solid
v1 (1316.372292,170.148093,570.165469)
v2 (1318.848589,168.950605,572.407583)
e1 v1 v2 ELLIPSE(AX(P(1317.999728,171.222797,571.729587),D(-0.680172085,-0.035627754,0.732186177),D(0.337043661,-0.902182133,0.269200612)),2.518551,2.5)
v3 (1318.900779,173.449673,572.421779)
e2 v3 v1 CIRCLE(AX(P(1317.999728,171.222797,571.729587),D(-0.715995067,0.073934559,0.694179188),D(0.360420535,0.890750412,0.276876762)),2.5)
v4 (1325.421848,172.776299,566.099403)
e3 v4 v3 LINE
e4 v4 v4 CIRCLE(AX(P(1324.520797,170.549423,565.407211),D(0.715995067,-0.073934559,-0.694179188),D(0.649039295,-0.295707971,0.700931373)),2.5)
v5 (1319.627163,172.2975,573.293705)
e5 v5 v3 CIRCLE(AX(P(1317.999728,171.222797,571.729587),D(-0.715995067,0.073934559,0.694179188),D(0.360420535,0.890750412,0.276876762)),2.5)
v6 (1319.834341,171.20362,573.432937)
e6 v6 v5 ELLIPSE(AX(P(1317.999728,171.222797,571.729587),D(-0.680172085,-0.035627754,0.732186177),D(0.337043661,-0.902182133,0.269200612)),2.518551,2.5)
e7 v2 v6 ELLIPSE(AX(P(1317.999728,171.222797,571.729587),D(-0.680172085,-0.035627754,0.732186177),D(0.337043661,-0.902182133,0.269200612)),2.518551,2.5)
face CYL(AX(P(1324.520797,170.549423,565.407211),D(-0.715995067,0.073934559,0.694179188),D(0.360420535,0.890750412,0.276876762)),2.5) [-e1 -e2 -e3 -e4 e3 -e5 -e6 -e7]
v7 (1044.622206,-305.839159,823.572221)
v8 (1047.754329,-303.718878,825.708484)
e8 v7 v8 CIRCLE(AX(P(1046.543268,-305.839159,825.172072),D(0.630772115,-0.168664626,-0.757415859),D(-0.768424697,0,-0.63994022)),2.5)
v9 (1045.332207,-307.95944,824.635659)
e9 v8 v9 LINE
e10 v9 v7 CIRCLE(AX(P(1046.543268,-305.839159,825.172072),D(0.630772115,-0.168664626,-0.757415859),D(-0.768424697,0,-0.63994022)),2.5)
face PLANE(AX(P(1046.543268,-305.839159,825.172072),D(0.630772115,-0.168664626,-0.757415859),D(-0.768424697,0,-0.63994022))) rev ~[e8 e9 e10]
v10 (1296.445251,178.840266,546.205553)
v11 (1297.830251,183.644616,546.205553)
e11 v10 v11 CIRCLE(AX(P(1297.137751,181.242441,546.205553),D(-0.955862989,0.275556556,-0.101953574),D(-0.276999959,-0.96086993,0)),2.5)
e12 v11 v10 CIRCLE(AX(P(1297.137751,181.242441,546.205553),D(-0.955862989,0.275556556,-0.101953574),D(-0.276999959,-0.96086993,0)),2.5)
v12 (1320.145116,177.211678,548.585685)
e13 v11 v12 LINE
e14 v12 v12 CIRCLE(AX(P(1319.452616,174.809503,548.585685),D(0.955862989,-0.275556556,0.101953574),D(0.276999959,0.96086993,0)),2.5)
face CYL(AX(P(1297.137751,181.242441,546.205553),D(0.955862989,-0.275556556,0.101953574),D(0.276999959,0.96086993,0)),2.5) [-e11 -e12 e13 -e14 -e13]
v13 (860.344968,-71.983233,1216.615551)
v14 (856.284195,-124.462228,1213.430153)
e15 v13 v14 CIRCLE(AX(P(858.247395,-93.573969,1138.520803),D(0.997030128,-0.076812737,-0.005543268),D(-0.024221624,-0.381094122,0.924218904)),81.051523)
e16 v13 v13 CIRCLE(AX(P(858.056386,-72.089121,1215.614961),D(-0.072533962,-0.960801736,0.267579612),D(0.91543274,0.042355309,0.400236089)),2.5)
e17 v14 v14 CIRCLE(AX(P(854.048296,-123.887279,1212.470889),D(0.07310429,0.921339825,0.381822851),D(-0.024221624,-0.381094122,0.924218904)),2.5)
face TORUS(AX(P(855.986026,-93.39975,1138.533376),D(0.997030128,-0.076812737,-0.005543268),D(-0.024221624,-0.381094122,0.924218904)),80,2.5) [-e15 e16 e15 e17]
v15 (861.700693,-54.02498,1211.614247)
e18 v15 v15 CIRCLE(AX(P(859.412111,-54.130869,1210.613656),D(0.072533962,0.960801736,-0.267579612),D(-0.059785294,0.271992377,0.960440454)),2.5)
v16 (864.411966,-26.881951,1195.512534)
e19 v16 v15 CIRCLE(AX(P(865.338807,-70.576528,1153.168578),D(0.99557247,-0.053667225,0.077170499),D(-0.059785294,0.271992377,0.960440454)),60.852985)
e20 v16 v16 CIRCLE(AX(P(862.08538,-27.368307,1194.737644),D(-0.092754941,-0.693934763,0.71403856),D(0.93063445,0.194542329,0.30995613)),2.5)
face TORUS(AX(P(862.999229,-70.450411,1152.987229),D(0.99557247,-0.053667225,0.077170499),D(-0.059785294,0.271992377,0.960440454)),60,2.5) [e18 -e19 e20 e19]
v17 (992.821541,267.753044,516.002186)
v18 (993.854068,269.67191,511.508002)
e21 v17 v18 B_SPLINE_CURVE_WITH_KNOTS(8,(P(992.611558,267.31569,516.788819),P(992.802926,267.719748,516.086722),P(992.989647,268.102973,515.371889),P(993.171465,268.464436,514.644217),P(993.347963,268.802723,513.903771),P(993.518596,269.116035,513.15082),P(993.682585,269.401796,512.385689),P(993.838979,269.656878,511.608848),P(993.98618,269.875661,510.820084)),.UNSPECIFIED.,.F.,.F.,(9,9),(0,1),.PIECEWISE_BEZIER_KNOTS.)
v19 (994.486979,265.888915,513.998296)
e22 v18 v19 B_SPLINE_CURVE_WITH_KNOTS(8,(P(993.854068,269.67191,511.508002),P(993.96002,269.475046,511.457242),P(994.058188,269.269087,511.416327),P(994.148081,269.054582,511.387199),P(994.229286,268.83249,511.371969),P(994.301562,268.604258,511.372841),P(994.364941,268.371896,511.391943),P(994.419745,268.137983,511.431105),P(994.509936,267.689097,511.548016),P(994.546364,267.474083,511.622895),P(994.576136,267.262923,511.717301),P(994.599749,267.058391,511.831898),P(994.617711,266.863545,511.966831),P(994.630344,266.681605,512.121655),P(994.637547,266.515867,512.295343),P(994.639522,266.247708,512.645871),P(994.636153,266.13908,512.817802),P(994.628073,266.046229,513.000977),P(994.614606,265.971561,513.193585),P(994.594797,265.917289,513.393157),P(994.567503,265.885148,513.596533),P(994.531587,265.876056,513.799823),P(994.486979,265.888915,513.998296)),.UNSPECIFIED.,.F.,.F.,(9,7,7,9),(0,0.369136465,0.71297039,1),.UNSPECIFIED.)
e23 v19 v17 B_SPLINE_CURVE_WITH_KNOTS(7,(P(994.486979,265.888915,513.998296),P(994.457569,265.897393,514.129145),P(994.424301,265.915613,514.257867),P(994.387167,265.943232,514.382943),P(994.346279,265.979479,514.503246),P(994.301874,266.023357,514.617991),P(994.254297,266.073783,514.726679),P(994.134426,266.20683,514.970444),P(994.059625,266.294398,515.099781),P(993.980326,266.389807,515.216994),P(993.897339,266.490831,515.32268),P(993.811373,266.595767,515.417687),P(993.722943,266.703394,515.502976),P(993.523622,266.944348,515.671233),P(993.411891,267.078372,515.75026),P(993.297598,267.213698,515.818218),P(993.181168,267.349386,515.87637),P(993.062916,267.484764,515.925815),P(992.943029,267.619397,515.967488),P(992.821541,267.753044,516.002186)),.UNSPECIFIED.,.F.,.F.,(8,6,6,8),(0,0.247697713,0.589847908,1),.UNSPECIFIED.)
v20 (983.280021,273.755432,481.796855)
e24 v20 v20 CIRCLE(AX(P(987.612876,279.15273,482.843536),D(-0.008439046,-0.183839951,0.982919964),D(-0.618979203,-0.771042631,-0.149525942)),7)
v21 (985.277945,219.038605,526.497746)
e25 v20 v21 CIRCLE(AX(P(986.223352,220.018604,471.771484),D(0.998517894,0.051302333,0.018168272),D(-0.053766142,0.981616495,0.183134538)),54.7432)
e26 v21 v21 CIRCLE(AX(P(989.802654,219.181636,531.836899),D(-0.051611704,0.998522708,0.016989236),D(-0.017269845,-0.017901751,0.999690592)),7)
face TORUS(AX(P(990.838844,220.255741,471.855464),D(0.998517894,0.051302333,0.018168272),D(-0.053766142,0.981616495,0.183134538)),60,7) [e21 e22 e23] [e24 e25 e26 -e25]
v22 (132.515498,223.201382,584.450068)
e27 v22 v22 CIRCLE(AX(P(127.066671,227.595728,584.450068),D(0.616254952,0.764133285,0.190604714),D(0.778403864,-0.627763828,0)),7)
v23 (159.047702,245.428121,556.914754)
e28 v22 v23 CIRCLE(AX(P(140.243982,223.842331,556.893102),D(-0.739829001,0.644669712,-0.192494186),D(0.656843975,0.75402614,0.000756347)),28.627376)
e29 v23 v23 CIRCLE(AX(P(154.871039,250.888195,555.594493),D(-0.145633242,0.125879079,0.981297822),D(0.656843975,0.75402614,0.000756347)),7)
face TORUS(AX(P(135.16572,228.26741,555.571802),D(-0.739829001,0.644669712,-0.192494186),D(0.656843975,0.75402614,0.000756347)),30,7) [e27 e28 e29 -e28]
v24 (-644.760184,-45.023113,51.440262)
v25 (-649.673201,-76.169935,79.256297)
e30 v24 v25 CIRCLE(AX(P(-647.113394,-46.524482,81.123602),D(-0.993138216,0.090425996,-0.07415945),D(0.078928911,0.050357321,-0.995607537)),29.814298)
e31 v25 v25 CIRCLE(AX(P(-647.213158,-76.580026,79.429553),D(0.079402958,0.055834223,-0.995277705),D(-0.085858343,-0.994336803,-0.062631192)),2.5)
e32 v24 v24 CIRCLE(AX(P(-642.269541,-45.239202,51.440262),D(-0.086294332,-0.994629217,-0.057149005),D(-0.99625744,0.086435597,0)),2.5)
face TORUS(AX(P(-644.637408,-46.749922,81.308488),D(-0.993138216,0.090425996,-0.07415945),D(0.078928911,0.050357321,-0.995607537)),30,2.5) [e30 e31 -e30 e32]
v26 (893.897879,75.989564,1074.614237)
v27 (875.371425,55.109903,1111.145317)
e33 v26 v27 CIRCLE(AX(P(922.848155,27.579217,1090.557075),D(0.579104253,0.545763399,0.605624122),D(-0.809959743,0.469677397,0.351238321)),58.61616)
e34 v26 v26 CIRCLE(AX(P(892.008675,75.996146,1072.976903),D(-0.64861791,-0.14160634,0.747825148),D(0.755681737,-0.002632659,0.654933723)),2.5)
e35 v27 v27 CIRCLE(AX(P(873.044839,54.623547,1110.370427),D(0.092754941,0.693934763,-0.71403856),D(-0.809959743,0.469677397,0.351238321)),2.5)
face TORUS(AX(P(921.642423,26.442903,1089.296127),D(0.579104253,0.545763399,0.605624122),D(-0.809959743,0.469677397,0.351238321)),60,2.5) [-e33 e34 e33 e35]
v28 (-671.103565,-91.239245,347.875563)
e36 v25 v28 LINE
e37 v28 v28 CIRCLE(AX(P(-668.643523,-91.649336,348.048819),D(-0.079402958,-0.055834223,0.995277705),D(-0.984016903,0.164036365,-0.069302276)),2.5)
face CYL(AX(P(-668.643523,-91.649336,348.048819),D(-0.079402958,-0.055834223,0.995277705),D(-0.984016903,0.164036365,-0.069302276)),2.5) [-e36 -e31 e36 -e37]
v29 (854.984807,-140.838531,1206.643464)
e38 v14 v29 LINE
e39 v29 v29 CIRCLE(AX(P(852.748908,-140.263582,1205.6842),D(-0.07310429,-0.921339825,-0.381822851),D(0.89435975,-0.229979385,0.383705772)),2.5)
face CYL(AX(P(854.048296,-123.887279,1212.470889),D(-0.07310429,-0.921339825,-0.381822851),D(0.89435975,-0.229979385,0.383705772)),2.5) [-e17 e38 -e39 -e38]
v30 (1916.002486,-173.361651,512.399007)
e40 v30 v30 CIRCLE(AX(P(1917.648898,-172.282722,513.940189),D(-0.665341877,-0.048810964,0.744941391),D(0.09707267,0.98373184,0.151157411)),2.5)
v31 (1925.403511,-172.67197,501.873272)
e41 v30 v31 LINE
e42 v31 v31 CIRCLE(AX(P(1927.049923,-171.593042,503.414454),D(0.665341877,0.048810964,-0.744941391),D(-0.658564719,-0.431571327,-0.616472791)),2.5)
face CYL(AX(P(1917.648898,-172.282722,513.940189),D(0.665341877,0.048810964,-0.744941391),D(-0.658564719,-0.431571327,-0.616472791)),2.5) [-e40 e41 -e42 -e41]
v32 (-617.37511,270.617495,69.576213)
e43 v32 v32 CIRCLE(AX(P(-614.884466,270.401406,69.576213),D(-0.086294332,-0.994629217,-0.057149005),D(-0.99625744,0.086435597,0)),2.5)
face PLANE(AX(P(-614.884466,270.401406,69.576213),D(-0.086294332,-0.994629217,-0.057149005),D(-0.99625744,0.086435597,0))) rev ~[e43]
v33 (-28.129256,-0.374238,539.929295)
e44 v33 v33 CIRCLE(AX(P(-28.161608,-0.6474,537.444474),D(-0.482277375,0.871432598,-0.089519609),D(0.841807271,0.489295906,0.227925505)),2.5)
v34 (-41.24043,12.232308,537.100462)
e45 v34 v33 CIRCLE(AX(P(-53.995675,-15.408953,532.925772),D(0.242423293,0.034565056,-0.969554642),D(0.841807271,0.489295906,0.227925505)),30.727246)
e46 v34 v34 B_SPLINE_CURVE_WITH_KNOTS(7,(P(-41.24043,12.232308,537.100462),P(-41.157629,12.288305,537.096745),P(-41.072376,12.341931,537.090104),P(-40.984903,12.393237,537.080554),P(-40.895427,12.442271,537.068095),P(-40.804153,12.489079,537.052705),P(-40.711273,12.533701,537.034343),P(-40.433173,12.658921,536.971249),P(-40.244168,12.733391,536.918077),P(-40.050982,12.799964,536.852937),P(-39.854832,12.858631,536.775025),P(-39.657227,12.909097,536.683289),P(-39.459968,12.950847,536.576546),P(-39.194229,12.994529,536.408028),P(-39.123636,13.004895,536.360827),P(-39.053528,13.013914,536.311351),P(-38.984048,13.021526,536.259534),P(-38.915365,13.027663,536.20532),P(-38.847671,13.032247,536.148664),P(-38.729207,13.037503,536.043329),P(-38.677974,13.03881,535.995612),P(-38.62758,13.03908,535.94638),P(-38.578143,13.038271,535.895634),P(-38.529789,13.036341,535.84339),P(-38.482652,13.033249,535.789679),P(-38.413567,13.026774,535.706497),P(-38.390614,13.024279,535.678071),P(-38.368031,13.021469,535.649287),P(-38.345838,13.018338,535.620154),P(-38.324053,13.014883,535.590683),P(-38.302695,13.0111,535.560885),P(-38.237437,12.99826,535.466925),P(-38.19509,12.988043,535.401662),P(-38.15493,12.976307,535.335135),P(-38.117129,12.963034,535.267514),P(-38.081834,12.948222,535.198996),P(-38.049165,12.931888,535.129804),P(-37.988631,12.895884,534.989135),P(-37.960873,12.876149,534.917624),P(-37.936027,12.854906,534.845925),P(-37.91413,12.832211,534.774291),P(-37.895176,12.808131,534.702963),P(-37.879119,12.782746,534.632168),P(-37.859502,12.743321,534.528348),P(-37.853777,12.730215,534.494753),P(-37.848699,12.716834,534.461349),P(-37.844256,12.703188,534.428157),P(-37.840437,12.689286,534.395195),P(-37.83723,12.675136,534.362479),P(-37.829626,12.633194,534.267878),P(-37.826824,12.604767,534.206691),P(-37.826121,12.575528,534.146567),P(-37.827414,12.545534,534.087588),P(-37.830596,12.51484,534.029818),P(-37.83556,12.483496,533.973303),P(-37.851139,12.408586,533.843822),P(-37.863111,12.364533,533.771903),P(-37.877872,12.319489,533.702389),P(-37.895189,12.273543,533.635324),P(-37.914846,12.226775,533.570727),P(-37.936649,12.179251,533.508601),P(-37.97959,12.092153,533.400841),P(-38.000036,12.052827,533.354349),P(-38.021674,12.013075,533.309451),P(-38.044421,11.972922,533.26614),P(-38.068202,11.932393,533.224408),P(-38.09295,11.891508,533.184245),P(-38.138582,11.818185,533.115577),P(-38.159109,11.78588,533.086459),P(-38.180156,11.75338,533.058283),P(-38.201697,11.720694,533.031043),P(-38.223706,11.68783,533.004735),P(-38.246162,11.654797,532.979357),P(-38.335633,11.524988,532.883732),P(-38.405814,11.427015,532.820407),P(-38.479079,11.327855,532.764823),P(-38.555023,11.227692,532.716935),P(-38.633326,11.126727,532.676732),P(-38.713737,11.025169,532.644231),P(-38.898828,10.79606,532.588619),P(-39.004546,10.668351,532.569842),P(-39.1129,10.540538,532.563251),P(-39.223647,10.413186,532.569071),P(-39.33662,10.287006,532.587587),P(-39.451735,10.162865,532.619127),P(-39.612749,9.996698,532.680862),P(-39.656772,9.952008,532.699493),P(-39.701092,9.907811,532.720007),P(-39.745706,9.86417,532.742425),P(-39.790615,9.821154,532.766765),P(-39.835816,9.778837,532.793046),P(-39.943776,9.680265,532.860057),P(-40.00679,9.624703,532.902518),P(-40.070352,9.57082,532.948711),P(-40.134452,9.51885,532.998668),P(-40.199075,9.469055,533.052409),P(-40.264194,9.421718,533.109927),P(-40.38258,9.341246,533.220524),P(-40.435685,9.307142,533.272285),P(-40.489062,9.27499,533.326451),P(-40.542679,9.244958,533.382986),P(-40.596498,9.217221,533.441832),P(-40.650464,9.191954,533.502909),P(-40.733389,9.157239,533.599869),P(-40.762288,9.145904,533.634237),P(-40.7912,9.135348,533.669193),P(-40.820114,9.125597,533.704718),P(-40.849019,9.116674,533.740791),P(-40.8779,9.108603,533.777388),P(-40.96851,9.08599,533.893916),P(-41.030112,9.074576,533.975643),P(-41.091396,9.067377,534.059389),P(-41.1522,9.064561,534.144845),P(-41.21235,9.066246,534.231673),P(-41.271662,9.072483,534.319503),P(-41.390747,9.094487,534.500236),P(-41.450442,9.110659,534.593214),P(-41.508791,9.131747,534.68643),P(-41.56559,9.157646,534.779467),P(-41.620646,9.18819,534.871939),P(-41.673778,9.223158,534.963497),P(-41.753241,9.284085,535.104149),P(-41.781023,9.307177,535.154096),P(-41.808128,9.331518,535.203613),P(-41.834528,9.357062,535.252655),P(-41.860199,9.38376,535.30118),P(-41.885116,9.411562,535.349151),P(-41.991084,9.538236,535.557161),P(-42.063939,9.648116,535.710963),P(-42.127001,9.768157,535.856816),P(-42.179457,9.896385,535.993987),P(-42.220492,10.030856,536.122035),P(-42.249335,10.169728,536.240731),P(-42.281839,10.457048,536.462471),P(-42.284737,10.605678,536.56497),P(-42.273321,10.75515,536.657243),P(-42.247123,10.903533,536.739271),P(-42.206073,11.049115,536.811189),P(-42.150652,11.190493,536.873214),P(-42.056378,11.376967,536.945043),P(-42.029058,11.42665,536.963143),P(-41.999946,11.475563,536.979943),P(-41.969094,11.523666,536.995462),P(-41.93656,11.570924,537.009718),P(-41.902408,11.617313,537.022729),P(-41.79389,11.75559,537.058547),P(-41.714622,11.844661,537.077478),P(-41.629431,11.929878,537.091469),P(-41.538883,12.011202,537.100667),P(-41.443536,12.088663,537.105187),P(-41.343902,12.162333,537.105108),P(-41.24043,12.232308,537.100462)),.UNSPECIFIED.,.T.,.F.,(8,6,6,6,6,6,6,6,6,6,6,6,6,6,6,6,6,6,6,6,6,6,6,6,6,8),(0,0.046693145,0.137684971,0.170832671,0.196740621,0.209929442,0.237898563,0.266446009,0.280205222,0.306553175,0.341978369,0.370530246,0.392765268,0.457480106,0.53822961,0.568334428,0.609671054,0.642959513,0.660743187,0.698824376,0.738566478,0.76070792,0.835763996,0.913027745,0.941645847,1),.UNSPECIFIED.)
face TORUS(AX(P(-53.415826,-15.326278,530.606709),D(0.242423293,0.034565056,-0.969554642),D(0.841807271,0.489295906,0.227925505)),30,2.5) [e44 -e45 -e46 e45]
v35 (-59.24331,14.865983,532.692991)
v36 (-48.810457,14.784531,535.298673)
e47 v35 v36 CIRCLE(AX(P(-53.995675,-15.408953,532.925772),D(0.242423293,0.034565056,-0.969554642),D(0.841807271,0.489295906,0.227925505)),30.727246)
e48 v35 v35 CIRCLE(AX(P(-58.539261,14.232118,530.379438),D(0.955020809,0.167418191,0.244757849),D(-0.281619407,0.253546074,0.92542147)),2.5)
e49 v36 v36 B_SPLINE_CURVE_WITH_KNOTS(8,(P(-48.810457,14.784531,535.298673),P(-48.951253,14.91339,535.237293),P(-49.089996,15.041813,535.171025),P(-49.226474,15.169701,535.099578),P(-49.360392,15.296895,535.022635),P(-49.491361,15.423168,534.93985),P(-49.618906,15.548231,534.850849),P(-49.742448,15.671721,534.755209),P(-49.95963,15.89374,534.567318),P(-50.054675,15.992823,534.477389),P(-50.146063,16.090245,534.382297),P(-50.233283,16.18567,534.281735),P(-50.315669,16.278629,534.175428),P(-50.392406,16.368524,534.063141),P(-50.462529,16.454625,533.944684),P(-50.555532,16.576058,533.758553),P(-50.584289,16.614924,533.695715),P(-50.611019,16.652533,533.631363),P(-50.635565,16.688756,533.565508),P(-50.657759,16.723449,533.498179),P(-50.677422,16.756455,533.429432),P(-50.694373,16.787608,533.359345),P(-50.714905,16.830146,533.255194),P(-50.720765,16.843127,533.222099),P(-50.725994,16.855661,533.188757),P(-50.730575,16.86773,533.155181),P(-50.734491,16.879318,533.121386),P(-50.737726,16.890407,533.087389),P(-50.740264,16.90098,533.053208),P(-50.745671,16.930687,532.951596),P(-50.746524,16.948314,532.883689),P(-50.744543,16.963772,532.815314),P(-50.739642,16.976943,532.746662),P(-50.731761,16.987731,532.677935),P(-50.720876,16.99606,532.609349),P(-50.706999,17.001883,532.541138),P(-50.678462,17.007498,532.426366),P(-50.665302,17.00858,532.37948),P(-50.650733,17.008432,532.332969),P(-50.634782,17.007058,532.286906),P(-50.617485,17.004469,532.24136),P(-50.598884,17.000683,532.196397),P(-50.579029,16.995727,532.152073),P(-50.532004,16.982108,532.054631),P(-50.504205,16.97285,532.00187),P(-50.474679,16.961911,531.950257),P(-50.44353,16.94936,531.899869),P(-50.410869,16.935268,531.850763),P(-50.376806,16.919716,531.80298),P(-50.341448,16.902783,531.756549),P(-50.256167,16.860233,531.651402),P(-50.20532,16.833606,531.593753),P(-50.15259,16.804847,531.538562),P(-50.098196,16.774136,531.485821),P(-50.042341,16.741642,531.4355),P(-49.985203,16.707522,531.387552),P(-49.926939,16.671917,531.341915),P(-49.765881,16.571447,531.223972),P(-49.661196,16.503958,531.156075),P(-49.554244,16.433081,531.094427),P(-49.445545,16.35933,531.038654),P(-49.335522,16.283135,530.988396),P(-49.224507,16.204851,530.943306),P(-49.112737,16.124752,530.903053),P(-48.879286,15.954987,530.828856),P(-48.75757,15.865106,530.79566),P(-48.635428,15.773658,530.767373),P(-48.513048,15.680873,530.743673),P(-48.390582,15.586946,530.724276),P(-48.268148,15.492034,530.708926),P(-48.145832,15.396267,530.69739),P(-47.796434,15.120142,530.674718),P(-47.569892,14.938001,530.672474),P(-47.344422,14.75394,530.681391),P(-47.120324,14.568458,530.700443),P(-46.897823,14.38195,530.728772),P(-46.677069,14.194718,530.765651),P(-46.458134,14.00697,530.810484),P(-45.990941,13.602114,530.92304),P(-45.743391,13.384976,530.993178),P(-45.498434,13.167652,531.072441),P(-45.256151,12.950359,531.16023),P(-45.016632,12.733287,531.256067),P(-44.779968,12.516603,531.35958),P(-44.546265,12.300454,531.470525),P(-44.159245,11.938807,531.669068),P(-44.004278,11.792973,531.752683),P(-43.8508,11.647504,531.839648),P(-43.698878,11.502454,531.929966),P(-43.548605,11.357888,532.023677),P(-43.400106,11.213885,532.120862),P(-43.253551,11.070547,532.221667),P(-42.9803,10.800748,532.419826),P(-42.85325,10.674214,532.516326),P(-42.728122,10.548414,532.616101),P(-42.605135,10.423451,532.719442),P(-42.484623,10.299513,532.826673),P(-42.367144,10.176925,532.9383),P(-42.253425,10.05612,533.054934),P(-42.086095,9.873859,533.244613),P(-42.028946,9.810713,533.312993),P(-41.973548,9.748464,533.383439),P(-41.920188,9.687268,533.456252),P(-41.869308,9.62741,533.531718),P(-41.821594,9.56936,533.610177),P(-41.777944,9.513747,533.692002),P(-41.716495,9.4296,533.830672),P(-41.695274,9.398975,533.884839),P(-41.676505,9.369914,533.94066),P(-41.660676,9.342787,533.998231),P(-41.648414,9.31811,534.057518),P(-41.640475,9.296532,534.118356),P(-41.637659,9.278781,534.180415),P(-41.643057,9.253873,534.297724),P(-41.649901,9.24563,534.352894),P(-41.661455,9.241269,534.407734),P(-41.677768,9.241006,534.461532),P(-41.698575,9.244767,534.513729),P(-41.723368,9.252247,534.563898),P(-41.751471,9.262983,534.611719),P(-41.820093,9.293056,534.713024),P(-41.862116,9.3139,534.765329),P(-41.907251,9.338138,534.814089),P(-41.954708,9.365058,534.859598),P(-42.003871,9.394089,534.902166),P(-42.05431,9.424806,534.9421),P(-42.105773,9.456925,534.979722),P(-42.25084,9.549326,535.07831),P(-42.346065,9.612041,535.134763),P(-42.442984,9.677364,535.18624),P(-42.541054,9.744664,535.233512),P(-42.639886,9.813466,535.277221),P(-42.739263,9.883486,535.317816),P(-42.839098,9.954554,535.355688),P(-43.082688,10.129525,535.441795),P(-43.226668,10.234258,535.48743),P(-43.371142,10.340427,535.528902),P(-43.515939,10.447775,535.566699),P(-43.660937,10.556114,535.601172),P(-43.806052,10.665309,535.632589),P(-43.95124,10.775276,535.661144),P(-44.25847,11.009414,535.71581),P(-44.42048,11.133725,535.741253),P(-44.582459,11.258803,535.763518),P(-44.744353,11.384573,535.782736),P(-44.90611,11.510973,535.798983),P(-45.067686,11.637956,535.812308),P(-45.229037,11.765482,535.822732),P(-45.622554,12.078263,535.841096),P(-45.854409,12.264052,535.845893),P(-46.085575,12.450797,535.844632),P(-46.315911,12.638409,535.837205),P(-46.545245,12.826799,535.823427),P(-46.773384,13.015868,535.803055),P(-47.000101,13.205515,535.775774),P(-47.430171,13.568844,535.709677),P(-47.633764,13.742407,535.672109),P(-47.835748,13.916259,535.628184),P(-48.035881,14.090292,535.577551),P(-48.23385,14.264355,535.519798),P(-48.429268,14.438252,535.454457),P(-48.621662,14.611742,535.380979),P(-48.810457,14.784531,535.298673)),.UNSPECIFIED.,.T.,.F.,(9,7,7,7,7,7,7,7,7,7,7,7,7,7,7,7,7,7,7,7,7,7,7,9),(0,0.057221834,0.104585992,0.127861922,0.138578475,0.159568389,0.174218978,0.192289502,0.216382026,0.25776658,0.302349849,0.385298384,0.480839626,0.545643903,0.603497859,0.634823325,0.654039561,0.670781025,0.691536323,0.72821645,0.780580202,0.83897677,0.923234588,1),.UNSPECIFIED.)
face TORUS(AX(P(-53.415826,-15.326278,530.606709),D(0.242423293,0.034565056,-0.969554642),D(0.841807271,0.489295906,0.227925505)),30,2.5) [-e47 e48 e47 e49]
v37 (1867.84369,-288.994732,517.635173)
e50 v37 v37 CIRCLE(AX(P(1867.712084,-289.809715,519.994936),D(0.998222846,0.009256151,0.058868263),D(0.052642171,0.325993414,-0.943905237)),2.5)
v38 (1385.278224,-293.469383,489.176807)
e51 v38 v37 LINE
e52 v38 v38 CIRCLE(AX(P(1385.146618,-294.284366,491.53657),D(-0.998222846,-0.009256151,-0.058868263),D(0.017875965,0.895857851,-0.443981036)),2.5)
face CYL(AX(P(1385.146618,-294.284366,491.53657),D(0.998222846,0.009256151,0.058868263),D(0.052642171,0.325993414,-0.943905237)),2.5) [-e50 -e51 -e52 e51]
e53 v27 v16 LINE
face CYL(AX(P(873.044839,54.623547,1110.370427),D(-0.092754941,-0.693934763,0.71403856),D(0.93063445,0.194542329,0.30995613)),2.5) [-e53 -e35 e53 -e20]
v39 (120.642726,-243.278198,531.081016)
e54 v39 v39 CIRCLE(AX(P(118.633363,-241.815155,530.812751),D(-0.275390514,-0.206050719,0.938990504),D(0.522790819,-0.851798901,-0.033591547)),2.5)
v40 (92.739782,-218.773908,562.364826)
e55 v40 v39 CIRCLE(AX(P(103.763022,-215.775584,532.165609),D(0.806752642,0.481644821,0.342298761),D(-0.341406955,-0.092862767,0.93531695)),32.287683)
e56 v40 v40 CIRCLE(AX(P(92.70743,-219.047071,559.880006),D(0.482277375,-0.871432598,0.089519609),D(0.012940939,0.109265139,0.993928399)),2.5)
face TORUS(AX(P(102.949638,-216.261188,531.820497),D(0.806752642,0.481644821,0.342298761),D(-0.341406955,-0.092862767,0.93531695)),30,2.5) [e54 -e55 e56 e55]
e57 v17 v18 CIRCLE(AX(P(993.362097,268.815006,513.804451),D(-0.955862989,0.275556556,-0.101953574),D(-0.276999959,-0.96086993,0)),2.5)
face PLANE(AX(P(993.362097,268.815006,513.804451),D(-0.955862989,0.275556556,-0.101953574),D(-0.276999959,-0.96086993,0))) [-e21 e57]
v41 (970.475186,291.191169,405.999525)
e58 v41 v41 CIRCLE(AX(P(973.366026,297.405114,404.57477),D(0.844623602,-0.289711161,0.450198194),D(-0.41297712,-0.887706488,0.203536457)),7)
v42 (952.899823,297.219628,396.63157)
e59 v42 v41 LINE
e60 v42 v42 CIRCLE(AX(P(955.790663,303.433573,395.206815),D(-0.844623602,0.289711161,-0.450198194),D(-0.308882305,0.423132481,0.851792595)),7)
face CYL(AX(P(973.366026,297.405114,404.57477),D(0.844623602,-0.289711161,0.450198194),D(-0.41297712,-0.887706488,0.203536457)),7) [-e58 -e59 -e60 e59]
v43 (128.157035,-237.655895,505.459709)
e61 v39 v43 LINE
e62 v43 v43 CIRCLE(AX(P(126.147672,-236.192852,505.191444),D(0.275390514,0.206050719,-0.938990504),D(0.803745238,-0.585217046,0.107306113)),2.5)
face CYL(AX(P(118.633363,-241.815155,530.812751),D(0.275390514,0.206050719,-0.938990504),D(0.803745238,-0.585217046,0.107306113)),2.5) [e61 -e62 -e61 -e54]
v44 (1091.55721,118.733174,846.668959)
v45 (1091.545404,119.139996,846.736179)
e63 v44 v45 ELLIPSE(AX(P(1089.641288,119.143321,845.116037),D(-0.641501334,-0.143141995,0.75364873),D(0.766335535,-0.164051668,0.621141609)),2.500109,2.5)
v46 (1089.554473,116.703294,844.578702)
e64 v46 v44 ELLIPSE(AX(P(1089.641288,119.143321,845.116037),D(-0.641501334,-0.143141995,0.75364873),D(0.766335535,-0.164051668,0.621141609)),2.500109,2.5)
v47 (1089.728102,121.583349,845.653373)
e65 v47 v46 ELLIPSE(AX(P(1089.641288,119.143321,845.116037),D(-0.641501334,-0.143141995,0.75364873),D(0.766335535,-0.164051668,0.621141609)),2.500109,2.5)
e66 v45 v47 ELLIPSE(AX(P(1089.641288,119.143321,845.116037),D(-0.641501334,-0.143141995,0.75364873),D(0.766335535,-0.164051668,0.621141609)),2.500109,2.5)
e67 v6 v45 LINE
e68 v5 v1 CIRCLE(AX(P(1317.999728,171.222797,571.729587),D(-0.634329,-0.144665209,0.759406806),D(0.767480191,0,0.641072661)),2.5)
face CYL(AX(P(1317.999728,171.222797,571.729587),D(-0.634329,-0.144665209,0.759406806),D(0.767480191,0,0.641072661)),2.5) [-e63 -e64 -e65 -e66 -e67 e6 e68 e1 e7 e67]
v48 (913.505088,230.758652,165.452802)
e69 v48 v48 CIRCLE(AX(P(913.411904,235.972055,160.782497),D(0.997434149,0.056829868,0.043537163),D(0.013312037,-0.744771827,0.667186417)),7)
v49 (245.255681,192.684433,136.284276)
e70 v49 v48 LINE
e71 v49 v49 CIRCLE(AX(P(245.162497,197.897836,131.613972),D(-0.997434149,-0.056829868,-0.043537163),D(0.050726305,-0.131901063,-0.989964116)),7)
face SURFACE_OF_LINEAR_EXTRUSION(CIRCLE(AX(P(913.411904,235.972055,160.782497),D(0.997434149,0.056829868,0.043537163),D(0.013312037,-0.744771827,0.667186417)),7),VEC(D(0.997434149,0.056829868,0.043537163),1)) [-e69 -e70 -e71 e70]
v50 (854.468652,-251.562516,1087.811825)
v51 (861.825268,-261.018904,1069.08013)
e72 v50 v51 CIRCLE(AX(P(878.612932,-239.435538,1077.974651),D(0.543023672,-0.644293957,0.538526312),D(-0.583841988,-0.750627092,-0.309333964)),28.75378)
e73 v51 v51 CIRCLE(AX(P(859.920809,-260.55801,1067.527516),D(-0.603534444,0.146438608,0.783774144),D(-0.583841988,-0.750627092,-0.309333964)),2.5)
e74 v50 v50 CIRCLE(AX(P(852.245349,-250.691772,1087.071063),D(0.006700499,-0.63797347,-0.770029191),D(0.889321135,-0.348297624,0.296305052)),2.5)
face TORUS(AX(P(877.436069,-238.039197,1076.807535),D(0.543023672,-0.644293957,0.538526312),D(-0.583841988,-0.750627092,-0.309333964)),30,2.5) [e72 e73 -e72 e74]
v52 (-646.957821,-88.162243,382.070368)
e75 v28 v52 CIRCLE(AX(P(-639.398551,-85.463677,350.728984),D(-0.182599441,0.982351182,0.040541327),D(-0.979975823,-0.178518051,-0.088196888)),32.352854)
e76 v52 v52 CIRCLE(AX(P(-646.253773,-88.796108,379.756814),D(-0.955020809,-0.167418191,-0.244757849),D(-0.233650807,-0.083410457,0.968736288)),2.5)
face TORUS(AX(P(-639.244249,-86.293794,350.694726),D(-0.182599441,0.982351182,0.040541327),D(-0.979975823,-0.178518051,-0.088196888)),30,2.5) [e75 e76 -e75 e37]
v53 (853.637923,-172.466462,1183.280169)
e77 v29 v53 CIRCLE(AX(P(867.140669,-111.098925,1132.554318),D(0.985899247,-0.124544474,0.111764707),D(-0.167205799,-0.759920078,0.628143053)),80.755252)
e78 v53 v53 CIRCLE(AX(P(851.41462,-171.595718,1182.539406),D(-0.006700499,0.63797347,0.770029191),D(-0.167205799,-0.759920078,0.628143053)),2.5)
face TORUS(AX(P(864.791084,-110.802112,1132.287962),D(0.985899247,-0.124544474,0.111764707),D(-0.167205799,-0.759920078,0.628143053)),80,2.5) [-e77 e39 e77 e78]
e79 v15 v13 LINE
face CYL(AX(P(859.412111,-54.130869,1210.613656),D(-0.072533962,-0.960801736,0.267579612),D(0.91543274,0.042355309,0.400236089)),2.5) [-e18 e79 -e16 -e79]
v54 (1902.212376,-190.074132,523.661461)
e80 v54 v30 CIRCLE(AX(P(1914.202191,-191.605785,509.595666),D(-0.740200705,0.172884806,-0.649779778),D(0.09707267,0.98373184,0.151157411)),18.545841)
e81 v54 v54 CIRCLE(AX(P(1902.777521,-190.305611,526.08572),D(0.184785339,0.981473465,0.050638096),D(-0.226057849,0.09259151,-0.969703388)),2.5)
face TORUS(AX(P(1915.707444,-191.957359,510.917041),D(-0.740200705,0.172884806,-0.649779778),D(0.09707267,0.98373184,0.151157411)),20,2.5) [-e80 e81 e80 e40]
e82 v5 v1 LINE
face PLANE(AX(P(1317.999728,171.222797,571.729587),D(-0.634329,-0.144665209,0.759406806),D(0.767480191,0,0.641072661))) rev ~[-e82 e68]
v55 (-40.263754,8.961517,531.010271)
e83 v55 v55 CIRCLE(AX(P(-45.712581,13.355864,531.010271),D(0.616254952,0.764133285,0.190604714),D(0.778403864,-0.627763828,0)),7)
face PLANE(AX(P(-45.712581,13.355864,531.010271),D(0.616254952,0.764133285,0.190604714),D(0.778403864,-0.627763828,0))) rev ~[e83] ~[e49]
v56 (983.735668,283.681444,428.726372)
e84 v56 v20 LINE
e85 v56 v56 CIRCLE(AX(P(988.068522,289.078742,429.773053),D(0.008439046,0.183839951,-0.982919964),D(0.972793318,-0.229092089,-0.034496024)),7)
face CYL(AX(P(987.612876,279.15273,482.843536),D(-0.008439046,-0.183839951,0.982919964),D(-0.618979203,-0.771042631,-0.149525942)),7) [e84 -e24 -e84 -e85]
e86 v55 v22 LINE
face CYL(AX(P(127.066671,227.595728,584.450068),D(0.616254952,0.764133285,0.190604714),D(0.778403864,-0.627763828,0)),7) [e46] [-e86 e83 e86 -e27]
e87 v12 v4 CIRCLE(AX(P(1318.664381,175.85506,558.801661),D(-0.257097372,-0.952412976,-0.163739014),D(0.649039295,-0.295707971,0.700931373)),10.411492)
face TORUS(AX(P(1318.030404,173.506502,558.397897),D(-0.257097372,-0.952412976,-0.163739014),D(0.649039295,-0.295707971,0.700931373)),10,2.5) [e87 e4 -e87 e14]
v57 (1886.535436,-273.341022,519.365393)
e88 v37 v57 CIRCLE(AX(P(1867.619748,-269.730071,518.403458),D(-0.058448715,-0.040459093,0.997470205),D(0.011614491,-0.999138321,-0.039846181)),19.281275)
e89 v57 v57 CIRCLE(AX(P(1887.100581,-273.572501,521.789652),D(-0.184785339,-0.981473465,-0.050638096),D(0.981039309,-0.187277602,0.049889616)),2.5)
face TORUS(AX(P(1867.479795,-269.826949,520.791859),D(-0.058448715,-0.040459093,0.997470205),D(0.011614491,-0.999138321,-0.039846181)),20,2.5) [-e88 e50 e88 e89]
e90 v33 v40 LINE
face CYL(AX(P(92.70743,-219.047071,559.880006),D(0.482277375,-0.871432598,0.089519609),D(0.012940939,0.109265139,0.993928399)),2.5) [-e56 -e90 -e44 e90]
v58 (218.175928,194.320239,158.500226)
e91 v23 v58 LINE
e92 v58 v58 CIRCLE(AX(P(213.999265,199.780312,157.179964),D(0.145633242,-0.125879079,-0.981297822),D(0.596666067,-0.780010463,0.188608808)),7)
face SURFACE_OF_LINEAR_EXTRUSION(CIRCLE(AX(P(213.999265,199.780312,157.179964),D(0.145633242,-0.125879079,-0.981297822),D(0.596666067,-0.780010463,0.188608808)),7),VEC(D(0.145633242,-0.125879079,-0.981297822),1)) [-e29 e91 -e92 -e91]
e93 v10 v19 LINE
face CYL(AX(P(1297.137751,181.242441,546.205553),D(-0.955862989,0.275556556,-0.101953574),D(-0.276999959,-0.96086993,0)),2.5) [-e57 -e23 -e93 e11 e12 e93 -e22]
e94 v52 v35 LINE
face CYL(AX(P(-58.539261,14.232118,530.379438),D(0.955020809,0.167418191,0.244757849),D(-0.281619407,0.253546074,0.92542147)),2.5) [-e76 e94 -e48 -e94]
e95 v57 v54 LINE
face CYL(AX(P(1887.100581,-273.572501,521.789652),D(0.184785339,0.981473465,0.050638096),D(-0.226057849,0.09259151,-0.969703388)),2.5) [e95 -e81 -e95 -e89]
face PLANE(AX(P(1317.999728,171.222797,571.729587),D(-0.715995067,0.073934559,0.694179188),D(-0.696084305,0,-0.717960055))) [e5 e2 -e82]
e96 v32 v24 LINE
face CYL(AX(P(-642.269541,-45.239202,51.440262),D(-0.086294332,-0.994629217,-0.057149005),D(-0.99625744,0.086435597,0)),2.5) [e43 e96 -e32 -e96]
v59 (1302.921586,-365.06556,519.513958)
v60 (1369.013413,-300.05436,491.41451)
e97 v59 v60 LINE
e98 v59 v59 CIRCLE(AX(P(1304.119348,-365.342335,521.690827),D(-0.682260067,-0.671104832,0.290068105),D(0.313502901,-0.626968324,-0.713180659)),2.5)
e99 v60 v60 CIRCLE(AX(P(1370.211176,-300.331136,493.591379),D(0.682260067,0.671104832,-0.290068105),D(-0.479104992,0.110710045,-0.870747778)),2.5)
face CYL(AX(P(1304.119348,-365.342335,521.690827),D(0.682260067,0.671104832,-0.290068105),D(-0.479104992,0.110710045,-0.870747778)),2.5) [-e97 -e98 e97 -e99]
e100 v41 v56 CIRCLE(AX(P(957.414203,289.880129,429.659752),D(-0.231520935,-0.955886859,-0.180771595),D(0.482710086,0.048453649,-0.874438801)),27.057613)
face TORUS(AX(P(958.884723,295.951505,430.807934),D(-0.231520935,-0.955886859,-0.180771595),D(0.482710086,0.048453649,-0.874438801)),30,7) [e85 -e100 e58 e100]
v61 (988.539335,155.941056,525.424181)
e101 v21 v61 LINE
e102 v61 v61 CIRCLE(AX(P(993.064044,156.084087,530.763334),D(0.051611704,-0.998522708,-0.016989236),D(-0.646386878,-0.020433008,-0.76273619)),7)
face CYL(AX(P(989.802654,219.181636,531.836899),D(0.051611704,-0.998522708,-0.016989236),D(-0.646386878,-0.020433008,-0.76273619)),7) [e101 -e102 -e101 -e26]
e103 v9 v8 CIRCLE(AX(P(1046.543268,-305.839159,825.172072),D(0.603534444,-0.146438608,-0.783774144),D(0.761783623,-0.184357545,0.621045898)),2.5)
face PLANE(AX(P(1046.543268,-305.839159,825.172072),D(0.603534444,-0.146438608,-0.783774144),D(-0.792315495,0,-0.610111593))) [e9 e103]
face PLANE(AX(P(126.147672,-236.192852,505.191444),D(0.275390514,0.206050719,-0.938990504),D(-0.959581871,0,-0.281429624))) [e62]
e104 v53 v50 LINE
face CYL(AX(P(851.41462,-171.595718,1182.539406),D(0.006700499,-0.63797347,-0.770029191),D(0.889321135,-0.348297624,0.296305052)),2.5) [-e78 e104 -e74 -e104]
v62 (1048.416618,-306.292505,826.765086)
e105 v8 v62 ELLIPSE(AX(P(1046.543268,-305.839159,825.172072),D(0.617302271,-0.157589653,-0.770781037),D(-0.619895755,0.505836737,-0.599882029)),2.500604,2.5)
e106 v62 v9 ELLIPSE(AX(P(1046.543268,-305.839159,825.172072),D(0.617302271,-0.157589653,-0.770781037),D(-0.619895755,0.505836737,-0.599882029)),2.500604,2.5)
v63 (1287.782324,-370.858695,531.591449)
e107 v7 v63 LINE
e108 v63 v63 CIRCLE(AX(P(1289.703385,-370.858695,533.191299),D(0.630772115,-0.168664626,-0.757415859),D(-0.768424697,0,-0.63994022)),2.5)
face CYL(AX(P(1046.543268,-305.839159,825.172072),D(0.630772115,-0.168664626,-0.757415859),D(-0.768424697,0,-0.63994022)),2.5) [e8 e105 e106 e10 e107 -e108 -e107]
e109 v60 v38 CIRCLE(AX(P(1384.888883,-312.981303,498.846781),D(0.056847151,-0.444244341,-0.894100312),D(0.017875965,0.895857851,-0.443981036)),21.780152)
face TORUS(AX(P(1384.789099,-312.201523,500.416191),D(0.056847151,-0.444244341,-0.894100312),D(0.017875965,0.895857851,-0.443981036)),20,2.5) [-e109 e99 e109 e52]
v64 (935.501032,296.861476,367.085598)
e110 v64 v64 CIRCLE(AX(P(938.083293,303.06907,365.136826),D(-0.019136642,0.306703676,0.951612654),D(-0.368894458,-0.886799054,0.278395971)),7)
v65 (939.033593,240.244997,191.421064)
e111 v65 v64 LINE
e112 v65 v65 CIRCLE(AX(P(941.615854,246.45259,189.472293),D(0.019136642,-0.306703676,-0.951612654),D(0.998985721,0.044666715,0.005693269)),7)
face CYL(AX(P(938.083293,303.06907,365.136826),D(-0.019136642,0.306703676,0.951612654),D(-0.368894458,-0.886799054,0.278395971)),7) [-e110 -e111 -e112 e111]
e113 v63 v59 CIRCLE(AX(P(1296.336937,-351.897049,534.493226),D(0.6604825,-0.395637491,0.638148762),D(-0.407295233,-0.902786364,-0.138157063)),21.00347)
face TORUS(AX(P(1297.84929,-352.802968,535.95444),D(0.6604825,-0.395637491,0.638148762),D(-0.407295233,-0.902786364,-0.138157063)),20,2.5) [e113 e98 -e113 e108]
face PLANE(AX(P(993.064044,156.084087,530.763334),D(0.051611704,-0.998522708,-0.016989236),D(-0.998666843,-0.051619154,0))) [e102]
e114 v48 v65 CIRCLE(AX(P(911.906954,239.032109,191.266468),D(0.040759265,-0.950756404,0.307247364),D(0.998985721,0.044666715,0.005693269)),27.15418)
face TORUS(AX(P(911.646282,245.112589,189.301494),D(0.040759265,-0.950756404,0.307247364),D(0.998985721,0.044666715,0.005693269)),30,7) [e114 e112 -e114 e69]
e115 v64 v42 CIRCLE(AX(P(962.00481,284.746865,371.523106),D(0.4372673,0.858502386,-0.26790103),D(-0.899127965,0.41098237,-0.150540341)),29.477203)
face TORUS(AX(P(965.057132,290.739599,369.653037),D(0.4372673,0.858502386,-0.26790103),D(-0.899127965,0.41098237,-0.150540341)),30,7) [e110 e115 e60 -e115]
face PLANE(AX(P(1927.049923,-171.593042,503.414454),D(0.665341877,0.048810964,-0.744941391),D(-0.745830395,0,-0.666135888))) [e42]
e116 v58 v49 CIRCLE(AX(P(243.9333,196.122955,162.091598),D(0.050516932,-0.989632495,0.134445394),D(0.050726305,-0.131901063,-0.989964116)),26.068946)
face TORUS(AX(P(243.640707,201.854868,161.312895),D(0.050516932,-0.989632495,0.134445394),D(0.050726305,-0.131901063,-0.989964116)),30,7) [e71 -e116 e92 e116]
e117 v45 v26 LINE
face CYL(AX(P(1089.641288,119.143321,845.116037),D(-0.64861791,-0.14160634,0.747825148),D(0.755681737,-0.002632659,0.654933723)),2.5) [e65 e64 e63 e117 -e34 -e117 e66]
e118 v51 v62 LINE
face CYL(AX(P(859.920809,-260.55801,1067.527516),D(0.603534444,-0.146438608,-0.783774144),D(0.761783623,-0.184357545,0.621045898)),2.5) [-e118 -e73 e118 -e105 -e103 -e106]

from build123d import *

# Parameters (mm, degrees)
WYCI_GNI_CIE_PO_CIE_CE1_PROFILE_R = 2.5
WYCI_GNI_CIE_PO_CIE_CE6_PROFILE_R = 7
WYCI_GNI_CIE_PO_CIE_CE8_PROFILE_R = 2.5
WYCI_GNI_CIE_PO_CIE_CE9_PROFILE_R = 2.5
SWEEP2_PROFILE_R                  = 2.5
SWEEP3_PROFILE_R                  = 2.5


with BuildPart() as part:
    # Wyciągnięcie po ścieżce1: sweep along a curve in space
    with BuildLine() as wyci_gni_cie_po_cie_ce1_path:
        Line((118.633362793, -241.815154907, 530.812750571), (126.147671788, -236.192852417, 505.191443979))
        ThreePointArc((92.707429588, -219.047070877, 559.880005502), (107.076745313, -237.755491592, 552.337852932), (118.633362793, -241.815154907, 530.812750571))
        Line((92.707429588, -219.047070877, 559.880005502), (-28.161608304, -0.647400384, 537.444474429))
        ThreePointArc((-28.161608304, -0.647400384, 537.444474429), (-41.103371704, 11.730265967, 534.649840636), (-58.539261, 14.232118297, 530.379437656))
        Line((-58.539261, 14.232118297, 530.379437656), (-646.253772705, -88.796108132, 379.756814279))
        ThreePointArc((-668.643523215, -91.649335936, 348.048818997), (-663.164062022, -91.456239693, 368.049600458), (-646.253772705, -88.796108132, 379.756814279))
        Line((-668.643523215, -91.649335936, 348.048818997), (-647.213158325, -76.580026216, 79.429552716))
        ThreePointArc((-642.269540707, -45.239202479, 51.440262378), (-644.784000377, -66.71983682, 58.921415933), (-647.213158325, -76.580026216, 79.429552716))
        Line((-642.269540707, -45.239202479, 51.440262378), (-614.884465929, 270.401405982, 69.576213478))
    # Wyciągnięcie po ścieżce1 profile (on start of the path) → Wyciągnięcie po ścieżce1 (sweep)
    with BuildSketch(Plane(origin=(-614.884465929, 270.401405982, 69.576213478), x_dir=(-0.99625744, 0.086435597, 0), z_dir=(-0.086294332, -0.994629217, -0.057149005))):
        Circle(WYCI_GNI_CIE_PO_CIE_CE1_PROFILE_R)
    sweep(path=wyci_gni_cie_po_cie_ce1_path.line)

    # Wyciągnięcie po ścieżce6: sweep along a curve in space
    with BuildLine() as wyci_gni_cie_po_cie_ce6_path:
        Line((989.802653571, 219.181635577, 531.836899377), (993.064043563, 156.084087205, 530.763334278))
        ThreePointArc((987.61287575, 279.152730354, 482.843536147), (988.048327536, 258.113483469, 518.320551031), (989.802653571, 219.181635577, 531.836899377))
        Line((987.61287575, 279.152730354, 482.843536147), (988.068522471, 289.078741938, 429.773053489))
        ThreePointArc((973.366025514, 297.40511407, 404.574770175), (984.190776741, 292.810841333, 415.004773921), (988.068522471, 289.078741938, 429.773053489))
        Line((973.366025514, 297.40511407, 404.574770175), (955.790663008, 303.433572972, 395.206814518))
        ThreePointArc((938.083293219, 303.069069636, 365.136826426), (942.781396961, 306.120694225, 382.584143215), (955.790663008, 303.433572972, 395.206814518))
        Line((938.083293219, 303.069069636, 365.136826426), (941.615853783, 246.452590165, 189.47229253))
        ThreePointArc((941.615853783, 246.452590165, 189.47229253), (933.653082604, 239.703301847, 169.643408365), (913.411904058, 235.972054606, 160.782497017))
        Line((913.411904058, 235.972054606, 160.782497017), (245.162496633, 197.897836106, 131.61397153))
        ThreePointArc((245.162496633, 197.897836106, 131.61397153), (224.642528635, 197.779810979, 138.455443037), (213.999265226, 199.78031177, 157.179964113))
        Line((213.999265226, 199.78031177, 157.179964113), (154.871039271, 250.888194506, 555.594492718))
        ThreePointArc((154.871039271, 250.888194506, 555.594492718), (144.304125556, 245.549430557, 578.327489963), (127.066670994, 227.595728322, 584.450068343))
        Line((127.066670994, 227.595728322, 584.450068343), (-45.712580672, 13.355864241, 531.010270974))
    # Wyciągnięcie po ścieżce6 profile (on start of the path) → Wyciągnięcie po ścieżce6 (sweep)
    with BuildSketch(Plane(origin=(-45.712580672, 13.355864241, 531.010270974), x_dir=(0.778403864, -0.627763828, 0), z_dir=(0.616254952, 0.764133285, 0.190604714))):
        Circle(WYCI_GNI_CIE_PO_CIE_CE6_PROFILE_R)
    sweep(path=wyci_gni_cie_po_cie_ce6_path.line)

    # Wyciągnięcie po ścieżce8: sweep along a curve in space
    with BuildLine() as wyci_gni_cie_po_cie_ce8_path:
        Line((1297.137751297, 181.242441222, 546.205552947), (993.362097427, 268.815005553, 513.804451426))
    # Wyciągnięcie po ścieżce8 profile (on start of the path) → Wyciągnięcie po ścieżce8 (sweep)
    with BuildSketch(Plane(origin=(1297.137751297, 181.242441222, 546.205552947), x_dir=(-0.276999959, -0.96086993, 0), z_dir=(-0.955862989, 0.275556556, -0.101953574))):
        Circle(WYCI_GNI_CIE_PO_CIE_CE8_PROFILE_R)
    sweep(path=wyci_gni_cie_po_cie_ce8_path.line)



with BuildPart() as body_2:
    # Wyciągnięcie po ścieżce9: sweep along a curve in space
    with BuildLine() as wyci_gni_cie_po_cie_ce9_path:
        Line((1317.999727692, 171.22279664, 571.729587249), (1089.641287715, 119.143321493, 845.116037461))
        Line((1089.641287715, 119.143321493, 845.116037461), (892.008674547, 75.996145536, 1072.976902575))
        ThreePointArc((873.044838559, 54.6235468, 1110.370426706), (879.120421198, 68.694521779, 1091.880709279), (892.008674547, 75.996145536, 1072.976902575))
        Line((873.044838559, 54.6235468, 1110.370426706), (862.085379682, -27.368306552, 1194.737643895))
        ThreePointArc((859.412111454, -54.130868591, 1210.613656322), (860.668419087, -39.689476444, 1204.449178299), (862.085379682, -27.368306552, 1194.737643895))
        Line((859.412111454, -54.130868591, 1210.613656322), (858.056386199, -72.089120782, 1215.614960934))
        ThreePointArc((854.048295932, -123.887279334, 1212.4708885), (856.056155355, -98.252116591, 1218.386050613), (858.056386199, -72.089120782, 1215.614960934))
        Line((854.048295932, -123.887279334, 1212.4708885), (852.748907826, -140.263582358, 1205.684199663))
        ThreePointArc((851.414620087, -171.595718136, 1182.539405935), (851.687004368, -157.331340382, 1196.03209075), (852.748907826, -140.263582358, 1205.684199663))
        Line((851.414620087, -171.595718136, 1182.539405935), (852.245349011, -250.691771681, 1087.071062811))
        ThreePointArc((859.920809001, -260.558010236, 1067.527515727), (854.282287377, -257.107969916, 1077.340761101), (852.245349011, -250.691771681, 1087.071062811))
        Line((859.920809001, -260.558010236, 1067.527515727), (1046.543268041, -305.839159258, 825.172071597))
    # Wyciągnięcie po ścieżce9 profile (on start of the path) → Wyciągnięcie po ścieżce9 (sweep)
    with BuildSketch(Plane(origin=(1317.999727692, 171.22279664, 571.729587249), x_dir=(0.767480191, 0, 0.641072661), z_dir=(-0.634329, -0.144665209, 0.759406806))):
        Circle(WYCI_GNI_CIE_PO_CIE_CE9_PROFILE_R)
    sweep(path=wyci_gni_cie_po_cie_ce9_path.line, transition=Transition.RIGHT)


with BuildPart() as part_1:
    add(part.part)

    add(body_2.part)  # Sweep2 merges body 2
    # Sweep2: sweep along a curve in space
    with BuildLine() as sweep2_path:
        Line((1297.137751297, 181.242441222, 546.205552947), (1319.452616488, 174.809503155, 548.585685138))
        ThreePointArc((1324.520796773, 170.549422769, 565.407210668), (1327.278650461, 171.573216324, 555.121872084), (1319.452616488, 174.809503155, 548.585685138))
        Line((1324.520796773, 170.549422769, 565.407210668), (1317.999727692, 171.22279664, 571.729587249))
    # Sweep2 profile (on start of the path) → Sweep2 (sweep)
    with BuildSketch(Plane(origin=(1297.137751297, 181.242441222, 546.205552947), x_dir=(0.276999959, 0.96086993, 0), z_dir=(0.955862989, -0.275556556, 0.101953574))):
        Circle(SWEEP2_PROFILE_R)
    sweep(path=sweep2_path.line)

    # Sweep3: sweep along a curve in space
    with BuildLine() as sweep3_path:
        Line((1046.543268041, -305.839159258, 825.172071597), (1289.703385484, -370.858695473, 533.191299189))
        ThreePointArc((1289.703385484, -370.858695473, 533.191299189), (1296.779336368, -370.253934208, 526.242644325), (1304.119348156, -365.34233467, 521.690827275))
        Line((1304.119348156, -365.34233467, 521.690827275), (1370.211175978, -300.331135553, 493.591379303))
        ThreePointArc((1385.146618358, -294.284366384, 491.536570005), (1377.008468058, -295.903400043, 491.823580173), (1370.211175978, -300.331135553, 493.591379303))
        Line((1385.146618358, -294.284366384, 491.536570005), (1867.712084458, -289.809715415, 519.994935714))
        ThreePointArc((1867.712084458, -289.809715415, 519.994935714), (1880.313508614, -285.165753527, 520.921707797), (1887.100580814, -273.57250102, 521.789651652))
        Line((1887.100580814, -273.57250102, 521.789651652), (1902.777520787, -190.305610567, 526.08571971))
        ThreePointArc((1917.648897549, -172.282722205, 513.940189375), (1908.408123862, -177.790862939, 523.001341402), (1902.777520787, -190.305610567, 526.08571971))
        Line((1917.648897549, -172.282722205, 513.940189375), (1927.049922725, -171.593042032, 503.414453632))
    # Sweep3 profile (on start of the path) → Sweep3 (sweep)
    with BuildSketch(Plane(origin=(1046.543268041, -305.839159258, 825.172071597), x_dir=(-0.768424697, 0, -0.63994022), z_dir=(0.630772115, -0.168664626, -0.757415859))):
        Circle(SWEEP3_PROFILE_R)
    sweep(path=sweep3_path.line)


solid = part_1.part
